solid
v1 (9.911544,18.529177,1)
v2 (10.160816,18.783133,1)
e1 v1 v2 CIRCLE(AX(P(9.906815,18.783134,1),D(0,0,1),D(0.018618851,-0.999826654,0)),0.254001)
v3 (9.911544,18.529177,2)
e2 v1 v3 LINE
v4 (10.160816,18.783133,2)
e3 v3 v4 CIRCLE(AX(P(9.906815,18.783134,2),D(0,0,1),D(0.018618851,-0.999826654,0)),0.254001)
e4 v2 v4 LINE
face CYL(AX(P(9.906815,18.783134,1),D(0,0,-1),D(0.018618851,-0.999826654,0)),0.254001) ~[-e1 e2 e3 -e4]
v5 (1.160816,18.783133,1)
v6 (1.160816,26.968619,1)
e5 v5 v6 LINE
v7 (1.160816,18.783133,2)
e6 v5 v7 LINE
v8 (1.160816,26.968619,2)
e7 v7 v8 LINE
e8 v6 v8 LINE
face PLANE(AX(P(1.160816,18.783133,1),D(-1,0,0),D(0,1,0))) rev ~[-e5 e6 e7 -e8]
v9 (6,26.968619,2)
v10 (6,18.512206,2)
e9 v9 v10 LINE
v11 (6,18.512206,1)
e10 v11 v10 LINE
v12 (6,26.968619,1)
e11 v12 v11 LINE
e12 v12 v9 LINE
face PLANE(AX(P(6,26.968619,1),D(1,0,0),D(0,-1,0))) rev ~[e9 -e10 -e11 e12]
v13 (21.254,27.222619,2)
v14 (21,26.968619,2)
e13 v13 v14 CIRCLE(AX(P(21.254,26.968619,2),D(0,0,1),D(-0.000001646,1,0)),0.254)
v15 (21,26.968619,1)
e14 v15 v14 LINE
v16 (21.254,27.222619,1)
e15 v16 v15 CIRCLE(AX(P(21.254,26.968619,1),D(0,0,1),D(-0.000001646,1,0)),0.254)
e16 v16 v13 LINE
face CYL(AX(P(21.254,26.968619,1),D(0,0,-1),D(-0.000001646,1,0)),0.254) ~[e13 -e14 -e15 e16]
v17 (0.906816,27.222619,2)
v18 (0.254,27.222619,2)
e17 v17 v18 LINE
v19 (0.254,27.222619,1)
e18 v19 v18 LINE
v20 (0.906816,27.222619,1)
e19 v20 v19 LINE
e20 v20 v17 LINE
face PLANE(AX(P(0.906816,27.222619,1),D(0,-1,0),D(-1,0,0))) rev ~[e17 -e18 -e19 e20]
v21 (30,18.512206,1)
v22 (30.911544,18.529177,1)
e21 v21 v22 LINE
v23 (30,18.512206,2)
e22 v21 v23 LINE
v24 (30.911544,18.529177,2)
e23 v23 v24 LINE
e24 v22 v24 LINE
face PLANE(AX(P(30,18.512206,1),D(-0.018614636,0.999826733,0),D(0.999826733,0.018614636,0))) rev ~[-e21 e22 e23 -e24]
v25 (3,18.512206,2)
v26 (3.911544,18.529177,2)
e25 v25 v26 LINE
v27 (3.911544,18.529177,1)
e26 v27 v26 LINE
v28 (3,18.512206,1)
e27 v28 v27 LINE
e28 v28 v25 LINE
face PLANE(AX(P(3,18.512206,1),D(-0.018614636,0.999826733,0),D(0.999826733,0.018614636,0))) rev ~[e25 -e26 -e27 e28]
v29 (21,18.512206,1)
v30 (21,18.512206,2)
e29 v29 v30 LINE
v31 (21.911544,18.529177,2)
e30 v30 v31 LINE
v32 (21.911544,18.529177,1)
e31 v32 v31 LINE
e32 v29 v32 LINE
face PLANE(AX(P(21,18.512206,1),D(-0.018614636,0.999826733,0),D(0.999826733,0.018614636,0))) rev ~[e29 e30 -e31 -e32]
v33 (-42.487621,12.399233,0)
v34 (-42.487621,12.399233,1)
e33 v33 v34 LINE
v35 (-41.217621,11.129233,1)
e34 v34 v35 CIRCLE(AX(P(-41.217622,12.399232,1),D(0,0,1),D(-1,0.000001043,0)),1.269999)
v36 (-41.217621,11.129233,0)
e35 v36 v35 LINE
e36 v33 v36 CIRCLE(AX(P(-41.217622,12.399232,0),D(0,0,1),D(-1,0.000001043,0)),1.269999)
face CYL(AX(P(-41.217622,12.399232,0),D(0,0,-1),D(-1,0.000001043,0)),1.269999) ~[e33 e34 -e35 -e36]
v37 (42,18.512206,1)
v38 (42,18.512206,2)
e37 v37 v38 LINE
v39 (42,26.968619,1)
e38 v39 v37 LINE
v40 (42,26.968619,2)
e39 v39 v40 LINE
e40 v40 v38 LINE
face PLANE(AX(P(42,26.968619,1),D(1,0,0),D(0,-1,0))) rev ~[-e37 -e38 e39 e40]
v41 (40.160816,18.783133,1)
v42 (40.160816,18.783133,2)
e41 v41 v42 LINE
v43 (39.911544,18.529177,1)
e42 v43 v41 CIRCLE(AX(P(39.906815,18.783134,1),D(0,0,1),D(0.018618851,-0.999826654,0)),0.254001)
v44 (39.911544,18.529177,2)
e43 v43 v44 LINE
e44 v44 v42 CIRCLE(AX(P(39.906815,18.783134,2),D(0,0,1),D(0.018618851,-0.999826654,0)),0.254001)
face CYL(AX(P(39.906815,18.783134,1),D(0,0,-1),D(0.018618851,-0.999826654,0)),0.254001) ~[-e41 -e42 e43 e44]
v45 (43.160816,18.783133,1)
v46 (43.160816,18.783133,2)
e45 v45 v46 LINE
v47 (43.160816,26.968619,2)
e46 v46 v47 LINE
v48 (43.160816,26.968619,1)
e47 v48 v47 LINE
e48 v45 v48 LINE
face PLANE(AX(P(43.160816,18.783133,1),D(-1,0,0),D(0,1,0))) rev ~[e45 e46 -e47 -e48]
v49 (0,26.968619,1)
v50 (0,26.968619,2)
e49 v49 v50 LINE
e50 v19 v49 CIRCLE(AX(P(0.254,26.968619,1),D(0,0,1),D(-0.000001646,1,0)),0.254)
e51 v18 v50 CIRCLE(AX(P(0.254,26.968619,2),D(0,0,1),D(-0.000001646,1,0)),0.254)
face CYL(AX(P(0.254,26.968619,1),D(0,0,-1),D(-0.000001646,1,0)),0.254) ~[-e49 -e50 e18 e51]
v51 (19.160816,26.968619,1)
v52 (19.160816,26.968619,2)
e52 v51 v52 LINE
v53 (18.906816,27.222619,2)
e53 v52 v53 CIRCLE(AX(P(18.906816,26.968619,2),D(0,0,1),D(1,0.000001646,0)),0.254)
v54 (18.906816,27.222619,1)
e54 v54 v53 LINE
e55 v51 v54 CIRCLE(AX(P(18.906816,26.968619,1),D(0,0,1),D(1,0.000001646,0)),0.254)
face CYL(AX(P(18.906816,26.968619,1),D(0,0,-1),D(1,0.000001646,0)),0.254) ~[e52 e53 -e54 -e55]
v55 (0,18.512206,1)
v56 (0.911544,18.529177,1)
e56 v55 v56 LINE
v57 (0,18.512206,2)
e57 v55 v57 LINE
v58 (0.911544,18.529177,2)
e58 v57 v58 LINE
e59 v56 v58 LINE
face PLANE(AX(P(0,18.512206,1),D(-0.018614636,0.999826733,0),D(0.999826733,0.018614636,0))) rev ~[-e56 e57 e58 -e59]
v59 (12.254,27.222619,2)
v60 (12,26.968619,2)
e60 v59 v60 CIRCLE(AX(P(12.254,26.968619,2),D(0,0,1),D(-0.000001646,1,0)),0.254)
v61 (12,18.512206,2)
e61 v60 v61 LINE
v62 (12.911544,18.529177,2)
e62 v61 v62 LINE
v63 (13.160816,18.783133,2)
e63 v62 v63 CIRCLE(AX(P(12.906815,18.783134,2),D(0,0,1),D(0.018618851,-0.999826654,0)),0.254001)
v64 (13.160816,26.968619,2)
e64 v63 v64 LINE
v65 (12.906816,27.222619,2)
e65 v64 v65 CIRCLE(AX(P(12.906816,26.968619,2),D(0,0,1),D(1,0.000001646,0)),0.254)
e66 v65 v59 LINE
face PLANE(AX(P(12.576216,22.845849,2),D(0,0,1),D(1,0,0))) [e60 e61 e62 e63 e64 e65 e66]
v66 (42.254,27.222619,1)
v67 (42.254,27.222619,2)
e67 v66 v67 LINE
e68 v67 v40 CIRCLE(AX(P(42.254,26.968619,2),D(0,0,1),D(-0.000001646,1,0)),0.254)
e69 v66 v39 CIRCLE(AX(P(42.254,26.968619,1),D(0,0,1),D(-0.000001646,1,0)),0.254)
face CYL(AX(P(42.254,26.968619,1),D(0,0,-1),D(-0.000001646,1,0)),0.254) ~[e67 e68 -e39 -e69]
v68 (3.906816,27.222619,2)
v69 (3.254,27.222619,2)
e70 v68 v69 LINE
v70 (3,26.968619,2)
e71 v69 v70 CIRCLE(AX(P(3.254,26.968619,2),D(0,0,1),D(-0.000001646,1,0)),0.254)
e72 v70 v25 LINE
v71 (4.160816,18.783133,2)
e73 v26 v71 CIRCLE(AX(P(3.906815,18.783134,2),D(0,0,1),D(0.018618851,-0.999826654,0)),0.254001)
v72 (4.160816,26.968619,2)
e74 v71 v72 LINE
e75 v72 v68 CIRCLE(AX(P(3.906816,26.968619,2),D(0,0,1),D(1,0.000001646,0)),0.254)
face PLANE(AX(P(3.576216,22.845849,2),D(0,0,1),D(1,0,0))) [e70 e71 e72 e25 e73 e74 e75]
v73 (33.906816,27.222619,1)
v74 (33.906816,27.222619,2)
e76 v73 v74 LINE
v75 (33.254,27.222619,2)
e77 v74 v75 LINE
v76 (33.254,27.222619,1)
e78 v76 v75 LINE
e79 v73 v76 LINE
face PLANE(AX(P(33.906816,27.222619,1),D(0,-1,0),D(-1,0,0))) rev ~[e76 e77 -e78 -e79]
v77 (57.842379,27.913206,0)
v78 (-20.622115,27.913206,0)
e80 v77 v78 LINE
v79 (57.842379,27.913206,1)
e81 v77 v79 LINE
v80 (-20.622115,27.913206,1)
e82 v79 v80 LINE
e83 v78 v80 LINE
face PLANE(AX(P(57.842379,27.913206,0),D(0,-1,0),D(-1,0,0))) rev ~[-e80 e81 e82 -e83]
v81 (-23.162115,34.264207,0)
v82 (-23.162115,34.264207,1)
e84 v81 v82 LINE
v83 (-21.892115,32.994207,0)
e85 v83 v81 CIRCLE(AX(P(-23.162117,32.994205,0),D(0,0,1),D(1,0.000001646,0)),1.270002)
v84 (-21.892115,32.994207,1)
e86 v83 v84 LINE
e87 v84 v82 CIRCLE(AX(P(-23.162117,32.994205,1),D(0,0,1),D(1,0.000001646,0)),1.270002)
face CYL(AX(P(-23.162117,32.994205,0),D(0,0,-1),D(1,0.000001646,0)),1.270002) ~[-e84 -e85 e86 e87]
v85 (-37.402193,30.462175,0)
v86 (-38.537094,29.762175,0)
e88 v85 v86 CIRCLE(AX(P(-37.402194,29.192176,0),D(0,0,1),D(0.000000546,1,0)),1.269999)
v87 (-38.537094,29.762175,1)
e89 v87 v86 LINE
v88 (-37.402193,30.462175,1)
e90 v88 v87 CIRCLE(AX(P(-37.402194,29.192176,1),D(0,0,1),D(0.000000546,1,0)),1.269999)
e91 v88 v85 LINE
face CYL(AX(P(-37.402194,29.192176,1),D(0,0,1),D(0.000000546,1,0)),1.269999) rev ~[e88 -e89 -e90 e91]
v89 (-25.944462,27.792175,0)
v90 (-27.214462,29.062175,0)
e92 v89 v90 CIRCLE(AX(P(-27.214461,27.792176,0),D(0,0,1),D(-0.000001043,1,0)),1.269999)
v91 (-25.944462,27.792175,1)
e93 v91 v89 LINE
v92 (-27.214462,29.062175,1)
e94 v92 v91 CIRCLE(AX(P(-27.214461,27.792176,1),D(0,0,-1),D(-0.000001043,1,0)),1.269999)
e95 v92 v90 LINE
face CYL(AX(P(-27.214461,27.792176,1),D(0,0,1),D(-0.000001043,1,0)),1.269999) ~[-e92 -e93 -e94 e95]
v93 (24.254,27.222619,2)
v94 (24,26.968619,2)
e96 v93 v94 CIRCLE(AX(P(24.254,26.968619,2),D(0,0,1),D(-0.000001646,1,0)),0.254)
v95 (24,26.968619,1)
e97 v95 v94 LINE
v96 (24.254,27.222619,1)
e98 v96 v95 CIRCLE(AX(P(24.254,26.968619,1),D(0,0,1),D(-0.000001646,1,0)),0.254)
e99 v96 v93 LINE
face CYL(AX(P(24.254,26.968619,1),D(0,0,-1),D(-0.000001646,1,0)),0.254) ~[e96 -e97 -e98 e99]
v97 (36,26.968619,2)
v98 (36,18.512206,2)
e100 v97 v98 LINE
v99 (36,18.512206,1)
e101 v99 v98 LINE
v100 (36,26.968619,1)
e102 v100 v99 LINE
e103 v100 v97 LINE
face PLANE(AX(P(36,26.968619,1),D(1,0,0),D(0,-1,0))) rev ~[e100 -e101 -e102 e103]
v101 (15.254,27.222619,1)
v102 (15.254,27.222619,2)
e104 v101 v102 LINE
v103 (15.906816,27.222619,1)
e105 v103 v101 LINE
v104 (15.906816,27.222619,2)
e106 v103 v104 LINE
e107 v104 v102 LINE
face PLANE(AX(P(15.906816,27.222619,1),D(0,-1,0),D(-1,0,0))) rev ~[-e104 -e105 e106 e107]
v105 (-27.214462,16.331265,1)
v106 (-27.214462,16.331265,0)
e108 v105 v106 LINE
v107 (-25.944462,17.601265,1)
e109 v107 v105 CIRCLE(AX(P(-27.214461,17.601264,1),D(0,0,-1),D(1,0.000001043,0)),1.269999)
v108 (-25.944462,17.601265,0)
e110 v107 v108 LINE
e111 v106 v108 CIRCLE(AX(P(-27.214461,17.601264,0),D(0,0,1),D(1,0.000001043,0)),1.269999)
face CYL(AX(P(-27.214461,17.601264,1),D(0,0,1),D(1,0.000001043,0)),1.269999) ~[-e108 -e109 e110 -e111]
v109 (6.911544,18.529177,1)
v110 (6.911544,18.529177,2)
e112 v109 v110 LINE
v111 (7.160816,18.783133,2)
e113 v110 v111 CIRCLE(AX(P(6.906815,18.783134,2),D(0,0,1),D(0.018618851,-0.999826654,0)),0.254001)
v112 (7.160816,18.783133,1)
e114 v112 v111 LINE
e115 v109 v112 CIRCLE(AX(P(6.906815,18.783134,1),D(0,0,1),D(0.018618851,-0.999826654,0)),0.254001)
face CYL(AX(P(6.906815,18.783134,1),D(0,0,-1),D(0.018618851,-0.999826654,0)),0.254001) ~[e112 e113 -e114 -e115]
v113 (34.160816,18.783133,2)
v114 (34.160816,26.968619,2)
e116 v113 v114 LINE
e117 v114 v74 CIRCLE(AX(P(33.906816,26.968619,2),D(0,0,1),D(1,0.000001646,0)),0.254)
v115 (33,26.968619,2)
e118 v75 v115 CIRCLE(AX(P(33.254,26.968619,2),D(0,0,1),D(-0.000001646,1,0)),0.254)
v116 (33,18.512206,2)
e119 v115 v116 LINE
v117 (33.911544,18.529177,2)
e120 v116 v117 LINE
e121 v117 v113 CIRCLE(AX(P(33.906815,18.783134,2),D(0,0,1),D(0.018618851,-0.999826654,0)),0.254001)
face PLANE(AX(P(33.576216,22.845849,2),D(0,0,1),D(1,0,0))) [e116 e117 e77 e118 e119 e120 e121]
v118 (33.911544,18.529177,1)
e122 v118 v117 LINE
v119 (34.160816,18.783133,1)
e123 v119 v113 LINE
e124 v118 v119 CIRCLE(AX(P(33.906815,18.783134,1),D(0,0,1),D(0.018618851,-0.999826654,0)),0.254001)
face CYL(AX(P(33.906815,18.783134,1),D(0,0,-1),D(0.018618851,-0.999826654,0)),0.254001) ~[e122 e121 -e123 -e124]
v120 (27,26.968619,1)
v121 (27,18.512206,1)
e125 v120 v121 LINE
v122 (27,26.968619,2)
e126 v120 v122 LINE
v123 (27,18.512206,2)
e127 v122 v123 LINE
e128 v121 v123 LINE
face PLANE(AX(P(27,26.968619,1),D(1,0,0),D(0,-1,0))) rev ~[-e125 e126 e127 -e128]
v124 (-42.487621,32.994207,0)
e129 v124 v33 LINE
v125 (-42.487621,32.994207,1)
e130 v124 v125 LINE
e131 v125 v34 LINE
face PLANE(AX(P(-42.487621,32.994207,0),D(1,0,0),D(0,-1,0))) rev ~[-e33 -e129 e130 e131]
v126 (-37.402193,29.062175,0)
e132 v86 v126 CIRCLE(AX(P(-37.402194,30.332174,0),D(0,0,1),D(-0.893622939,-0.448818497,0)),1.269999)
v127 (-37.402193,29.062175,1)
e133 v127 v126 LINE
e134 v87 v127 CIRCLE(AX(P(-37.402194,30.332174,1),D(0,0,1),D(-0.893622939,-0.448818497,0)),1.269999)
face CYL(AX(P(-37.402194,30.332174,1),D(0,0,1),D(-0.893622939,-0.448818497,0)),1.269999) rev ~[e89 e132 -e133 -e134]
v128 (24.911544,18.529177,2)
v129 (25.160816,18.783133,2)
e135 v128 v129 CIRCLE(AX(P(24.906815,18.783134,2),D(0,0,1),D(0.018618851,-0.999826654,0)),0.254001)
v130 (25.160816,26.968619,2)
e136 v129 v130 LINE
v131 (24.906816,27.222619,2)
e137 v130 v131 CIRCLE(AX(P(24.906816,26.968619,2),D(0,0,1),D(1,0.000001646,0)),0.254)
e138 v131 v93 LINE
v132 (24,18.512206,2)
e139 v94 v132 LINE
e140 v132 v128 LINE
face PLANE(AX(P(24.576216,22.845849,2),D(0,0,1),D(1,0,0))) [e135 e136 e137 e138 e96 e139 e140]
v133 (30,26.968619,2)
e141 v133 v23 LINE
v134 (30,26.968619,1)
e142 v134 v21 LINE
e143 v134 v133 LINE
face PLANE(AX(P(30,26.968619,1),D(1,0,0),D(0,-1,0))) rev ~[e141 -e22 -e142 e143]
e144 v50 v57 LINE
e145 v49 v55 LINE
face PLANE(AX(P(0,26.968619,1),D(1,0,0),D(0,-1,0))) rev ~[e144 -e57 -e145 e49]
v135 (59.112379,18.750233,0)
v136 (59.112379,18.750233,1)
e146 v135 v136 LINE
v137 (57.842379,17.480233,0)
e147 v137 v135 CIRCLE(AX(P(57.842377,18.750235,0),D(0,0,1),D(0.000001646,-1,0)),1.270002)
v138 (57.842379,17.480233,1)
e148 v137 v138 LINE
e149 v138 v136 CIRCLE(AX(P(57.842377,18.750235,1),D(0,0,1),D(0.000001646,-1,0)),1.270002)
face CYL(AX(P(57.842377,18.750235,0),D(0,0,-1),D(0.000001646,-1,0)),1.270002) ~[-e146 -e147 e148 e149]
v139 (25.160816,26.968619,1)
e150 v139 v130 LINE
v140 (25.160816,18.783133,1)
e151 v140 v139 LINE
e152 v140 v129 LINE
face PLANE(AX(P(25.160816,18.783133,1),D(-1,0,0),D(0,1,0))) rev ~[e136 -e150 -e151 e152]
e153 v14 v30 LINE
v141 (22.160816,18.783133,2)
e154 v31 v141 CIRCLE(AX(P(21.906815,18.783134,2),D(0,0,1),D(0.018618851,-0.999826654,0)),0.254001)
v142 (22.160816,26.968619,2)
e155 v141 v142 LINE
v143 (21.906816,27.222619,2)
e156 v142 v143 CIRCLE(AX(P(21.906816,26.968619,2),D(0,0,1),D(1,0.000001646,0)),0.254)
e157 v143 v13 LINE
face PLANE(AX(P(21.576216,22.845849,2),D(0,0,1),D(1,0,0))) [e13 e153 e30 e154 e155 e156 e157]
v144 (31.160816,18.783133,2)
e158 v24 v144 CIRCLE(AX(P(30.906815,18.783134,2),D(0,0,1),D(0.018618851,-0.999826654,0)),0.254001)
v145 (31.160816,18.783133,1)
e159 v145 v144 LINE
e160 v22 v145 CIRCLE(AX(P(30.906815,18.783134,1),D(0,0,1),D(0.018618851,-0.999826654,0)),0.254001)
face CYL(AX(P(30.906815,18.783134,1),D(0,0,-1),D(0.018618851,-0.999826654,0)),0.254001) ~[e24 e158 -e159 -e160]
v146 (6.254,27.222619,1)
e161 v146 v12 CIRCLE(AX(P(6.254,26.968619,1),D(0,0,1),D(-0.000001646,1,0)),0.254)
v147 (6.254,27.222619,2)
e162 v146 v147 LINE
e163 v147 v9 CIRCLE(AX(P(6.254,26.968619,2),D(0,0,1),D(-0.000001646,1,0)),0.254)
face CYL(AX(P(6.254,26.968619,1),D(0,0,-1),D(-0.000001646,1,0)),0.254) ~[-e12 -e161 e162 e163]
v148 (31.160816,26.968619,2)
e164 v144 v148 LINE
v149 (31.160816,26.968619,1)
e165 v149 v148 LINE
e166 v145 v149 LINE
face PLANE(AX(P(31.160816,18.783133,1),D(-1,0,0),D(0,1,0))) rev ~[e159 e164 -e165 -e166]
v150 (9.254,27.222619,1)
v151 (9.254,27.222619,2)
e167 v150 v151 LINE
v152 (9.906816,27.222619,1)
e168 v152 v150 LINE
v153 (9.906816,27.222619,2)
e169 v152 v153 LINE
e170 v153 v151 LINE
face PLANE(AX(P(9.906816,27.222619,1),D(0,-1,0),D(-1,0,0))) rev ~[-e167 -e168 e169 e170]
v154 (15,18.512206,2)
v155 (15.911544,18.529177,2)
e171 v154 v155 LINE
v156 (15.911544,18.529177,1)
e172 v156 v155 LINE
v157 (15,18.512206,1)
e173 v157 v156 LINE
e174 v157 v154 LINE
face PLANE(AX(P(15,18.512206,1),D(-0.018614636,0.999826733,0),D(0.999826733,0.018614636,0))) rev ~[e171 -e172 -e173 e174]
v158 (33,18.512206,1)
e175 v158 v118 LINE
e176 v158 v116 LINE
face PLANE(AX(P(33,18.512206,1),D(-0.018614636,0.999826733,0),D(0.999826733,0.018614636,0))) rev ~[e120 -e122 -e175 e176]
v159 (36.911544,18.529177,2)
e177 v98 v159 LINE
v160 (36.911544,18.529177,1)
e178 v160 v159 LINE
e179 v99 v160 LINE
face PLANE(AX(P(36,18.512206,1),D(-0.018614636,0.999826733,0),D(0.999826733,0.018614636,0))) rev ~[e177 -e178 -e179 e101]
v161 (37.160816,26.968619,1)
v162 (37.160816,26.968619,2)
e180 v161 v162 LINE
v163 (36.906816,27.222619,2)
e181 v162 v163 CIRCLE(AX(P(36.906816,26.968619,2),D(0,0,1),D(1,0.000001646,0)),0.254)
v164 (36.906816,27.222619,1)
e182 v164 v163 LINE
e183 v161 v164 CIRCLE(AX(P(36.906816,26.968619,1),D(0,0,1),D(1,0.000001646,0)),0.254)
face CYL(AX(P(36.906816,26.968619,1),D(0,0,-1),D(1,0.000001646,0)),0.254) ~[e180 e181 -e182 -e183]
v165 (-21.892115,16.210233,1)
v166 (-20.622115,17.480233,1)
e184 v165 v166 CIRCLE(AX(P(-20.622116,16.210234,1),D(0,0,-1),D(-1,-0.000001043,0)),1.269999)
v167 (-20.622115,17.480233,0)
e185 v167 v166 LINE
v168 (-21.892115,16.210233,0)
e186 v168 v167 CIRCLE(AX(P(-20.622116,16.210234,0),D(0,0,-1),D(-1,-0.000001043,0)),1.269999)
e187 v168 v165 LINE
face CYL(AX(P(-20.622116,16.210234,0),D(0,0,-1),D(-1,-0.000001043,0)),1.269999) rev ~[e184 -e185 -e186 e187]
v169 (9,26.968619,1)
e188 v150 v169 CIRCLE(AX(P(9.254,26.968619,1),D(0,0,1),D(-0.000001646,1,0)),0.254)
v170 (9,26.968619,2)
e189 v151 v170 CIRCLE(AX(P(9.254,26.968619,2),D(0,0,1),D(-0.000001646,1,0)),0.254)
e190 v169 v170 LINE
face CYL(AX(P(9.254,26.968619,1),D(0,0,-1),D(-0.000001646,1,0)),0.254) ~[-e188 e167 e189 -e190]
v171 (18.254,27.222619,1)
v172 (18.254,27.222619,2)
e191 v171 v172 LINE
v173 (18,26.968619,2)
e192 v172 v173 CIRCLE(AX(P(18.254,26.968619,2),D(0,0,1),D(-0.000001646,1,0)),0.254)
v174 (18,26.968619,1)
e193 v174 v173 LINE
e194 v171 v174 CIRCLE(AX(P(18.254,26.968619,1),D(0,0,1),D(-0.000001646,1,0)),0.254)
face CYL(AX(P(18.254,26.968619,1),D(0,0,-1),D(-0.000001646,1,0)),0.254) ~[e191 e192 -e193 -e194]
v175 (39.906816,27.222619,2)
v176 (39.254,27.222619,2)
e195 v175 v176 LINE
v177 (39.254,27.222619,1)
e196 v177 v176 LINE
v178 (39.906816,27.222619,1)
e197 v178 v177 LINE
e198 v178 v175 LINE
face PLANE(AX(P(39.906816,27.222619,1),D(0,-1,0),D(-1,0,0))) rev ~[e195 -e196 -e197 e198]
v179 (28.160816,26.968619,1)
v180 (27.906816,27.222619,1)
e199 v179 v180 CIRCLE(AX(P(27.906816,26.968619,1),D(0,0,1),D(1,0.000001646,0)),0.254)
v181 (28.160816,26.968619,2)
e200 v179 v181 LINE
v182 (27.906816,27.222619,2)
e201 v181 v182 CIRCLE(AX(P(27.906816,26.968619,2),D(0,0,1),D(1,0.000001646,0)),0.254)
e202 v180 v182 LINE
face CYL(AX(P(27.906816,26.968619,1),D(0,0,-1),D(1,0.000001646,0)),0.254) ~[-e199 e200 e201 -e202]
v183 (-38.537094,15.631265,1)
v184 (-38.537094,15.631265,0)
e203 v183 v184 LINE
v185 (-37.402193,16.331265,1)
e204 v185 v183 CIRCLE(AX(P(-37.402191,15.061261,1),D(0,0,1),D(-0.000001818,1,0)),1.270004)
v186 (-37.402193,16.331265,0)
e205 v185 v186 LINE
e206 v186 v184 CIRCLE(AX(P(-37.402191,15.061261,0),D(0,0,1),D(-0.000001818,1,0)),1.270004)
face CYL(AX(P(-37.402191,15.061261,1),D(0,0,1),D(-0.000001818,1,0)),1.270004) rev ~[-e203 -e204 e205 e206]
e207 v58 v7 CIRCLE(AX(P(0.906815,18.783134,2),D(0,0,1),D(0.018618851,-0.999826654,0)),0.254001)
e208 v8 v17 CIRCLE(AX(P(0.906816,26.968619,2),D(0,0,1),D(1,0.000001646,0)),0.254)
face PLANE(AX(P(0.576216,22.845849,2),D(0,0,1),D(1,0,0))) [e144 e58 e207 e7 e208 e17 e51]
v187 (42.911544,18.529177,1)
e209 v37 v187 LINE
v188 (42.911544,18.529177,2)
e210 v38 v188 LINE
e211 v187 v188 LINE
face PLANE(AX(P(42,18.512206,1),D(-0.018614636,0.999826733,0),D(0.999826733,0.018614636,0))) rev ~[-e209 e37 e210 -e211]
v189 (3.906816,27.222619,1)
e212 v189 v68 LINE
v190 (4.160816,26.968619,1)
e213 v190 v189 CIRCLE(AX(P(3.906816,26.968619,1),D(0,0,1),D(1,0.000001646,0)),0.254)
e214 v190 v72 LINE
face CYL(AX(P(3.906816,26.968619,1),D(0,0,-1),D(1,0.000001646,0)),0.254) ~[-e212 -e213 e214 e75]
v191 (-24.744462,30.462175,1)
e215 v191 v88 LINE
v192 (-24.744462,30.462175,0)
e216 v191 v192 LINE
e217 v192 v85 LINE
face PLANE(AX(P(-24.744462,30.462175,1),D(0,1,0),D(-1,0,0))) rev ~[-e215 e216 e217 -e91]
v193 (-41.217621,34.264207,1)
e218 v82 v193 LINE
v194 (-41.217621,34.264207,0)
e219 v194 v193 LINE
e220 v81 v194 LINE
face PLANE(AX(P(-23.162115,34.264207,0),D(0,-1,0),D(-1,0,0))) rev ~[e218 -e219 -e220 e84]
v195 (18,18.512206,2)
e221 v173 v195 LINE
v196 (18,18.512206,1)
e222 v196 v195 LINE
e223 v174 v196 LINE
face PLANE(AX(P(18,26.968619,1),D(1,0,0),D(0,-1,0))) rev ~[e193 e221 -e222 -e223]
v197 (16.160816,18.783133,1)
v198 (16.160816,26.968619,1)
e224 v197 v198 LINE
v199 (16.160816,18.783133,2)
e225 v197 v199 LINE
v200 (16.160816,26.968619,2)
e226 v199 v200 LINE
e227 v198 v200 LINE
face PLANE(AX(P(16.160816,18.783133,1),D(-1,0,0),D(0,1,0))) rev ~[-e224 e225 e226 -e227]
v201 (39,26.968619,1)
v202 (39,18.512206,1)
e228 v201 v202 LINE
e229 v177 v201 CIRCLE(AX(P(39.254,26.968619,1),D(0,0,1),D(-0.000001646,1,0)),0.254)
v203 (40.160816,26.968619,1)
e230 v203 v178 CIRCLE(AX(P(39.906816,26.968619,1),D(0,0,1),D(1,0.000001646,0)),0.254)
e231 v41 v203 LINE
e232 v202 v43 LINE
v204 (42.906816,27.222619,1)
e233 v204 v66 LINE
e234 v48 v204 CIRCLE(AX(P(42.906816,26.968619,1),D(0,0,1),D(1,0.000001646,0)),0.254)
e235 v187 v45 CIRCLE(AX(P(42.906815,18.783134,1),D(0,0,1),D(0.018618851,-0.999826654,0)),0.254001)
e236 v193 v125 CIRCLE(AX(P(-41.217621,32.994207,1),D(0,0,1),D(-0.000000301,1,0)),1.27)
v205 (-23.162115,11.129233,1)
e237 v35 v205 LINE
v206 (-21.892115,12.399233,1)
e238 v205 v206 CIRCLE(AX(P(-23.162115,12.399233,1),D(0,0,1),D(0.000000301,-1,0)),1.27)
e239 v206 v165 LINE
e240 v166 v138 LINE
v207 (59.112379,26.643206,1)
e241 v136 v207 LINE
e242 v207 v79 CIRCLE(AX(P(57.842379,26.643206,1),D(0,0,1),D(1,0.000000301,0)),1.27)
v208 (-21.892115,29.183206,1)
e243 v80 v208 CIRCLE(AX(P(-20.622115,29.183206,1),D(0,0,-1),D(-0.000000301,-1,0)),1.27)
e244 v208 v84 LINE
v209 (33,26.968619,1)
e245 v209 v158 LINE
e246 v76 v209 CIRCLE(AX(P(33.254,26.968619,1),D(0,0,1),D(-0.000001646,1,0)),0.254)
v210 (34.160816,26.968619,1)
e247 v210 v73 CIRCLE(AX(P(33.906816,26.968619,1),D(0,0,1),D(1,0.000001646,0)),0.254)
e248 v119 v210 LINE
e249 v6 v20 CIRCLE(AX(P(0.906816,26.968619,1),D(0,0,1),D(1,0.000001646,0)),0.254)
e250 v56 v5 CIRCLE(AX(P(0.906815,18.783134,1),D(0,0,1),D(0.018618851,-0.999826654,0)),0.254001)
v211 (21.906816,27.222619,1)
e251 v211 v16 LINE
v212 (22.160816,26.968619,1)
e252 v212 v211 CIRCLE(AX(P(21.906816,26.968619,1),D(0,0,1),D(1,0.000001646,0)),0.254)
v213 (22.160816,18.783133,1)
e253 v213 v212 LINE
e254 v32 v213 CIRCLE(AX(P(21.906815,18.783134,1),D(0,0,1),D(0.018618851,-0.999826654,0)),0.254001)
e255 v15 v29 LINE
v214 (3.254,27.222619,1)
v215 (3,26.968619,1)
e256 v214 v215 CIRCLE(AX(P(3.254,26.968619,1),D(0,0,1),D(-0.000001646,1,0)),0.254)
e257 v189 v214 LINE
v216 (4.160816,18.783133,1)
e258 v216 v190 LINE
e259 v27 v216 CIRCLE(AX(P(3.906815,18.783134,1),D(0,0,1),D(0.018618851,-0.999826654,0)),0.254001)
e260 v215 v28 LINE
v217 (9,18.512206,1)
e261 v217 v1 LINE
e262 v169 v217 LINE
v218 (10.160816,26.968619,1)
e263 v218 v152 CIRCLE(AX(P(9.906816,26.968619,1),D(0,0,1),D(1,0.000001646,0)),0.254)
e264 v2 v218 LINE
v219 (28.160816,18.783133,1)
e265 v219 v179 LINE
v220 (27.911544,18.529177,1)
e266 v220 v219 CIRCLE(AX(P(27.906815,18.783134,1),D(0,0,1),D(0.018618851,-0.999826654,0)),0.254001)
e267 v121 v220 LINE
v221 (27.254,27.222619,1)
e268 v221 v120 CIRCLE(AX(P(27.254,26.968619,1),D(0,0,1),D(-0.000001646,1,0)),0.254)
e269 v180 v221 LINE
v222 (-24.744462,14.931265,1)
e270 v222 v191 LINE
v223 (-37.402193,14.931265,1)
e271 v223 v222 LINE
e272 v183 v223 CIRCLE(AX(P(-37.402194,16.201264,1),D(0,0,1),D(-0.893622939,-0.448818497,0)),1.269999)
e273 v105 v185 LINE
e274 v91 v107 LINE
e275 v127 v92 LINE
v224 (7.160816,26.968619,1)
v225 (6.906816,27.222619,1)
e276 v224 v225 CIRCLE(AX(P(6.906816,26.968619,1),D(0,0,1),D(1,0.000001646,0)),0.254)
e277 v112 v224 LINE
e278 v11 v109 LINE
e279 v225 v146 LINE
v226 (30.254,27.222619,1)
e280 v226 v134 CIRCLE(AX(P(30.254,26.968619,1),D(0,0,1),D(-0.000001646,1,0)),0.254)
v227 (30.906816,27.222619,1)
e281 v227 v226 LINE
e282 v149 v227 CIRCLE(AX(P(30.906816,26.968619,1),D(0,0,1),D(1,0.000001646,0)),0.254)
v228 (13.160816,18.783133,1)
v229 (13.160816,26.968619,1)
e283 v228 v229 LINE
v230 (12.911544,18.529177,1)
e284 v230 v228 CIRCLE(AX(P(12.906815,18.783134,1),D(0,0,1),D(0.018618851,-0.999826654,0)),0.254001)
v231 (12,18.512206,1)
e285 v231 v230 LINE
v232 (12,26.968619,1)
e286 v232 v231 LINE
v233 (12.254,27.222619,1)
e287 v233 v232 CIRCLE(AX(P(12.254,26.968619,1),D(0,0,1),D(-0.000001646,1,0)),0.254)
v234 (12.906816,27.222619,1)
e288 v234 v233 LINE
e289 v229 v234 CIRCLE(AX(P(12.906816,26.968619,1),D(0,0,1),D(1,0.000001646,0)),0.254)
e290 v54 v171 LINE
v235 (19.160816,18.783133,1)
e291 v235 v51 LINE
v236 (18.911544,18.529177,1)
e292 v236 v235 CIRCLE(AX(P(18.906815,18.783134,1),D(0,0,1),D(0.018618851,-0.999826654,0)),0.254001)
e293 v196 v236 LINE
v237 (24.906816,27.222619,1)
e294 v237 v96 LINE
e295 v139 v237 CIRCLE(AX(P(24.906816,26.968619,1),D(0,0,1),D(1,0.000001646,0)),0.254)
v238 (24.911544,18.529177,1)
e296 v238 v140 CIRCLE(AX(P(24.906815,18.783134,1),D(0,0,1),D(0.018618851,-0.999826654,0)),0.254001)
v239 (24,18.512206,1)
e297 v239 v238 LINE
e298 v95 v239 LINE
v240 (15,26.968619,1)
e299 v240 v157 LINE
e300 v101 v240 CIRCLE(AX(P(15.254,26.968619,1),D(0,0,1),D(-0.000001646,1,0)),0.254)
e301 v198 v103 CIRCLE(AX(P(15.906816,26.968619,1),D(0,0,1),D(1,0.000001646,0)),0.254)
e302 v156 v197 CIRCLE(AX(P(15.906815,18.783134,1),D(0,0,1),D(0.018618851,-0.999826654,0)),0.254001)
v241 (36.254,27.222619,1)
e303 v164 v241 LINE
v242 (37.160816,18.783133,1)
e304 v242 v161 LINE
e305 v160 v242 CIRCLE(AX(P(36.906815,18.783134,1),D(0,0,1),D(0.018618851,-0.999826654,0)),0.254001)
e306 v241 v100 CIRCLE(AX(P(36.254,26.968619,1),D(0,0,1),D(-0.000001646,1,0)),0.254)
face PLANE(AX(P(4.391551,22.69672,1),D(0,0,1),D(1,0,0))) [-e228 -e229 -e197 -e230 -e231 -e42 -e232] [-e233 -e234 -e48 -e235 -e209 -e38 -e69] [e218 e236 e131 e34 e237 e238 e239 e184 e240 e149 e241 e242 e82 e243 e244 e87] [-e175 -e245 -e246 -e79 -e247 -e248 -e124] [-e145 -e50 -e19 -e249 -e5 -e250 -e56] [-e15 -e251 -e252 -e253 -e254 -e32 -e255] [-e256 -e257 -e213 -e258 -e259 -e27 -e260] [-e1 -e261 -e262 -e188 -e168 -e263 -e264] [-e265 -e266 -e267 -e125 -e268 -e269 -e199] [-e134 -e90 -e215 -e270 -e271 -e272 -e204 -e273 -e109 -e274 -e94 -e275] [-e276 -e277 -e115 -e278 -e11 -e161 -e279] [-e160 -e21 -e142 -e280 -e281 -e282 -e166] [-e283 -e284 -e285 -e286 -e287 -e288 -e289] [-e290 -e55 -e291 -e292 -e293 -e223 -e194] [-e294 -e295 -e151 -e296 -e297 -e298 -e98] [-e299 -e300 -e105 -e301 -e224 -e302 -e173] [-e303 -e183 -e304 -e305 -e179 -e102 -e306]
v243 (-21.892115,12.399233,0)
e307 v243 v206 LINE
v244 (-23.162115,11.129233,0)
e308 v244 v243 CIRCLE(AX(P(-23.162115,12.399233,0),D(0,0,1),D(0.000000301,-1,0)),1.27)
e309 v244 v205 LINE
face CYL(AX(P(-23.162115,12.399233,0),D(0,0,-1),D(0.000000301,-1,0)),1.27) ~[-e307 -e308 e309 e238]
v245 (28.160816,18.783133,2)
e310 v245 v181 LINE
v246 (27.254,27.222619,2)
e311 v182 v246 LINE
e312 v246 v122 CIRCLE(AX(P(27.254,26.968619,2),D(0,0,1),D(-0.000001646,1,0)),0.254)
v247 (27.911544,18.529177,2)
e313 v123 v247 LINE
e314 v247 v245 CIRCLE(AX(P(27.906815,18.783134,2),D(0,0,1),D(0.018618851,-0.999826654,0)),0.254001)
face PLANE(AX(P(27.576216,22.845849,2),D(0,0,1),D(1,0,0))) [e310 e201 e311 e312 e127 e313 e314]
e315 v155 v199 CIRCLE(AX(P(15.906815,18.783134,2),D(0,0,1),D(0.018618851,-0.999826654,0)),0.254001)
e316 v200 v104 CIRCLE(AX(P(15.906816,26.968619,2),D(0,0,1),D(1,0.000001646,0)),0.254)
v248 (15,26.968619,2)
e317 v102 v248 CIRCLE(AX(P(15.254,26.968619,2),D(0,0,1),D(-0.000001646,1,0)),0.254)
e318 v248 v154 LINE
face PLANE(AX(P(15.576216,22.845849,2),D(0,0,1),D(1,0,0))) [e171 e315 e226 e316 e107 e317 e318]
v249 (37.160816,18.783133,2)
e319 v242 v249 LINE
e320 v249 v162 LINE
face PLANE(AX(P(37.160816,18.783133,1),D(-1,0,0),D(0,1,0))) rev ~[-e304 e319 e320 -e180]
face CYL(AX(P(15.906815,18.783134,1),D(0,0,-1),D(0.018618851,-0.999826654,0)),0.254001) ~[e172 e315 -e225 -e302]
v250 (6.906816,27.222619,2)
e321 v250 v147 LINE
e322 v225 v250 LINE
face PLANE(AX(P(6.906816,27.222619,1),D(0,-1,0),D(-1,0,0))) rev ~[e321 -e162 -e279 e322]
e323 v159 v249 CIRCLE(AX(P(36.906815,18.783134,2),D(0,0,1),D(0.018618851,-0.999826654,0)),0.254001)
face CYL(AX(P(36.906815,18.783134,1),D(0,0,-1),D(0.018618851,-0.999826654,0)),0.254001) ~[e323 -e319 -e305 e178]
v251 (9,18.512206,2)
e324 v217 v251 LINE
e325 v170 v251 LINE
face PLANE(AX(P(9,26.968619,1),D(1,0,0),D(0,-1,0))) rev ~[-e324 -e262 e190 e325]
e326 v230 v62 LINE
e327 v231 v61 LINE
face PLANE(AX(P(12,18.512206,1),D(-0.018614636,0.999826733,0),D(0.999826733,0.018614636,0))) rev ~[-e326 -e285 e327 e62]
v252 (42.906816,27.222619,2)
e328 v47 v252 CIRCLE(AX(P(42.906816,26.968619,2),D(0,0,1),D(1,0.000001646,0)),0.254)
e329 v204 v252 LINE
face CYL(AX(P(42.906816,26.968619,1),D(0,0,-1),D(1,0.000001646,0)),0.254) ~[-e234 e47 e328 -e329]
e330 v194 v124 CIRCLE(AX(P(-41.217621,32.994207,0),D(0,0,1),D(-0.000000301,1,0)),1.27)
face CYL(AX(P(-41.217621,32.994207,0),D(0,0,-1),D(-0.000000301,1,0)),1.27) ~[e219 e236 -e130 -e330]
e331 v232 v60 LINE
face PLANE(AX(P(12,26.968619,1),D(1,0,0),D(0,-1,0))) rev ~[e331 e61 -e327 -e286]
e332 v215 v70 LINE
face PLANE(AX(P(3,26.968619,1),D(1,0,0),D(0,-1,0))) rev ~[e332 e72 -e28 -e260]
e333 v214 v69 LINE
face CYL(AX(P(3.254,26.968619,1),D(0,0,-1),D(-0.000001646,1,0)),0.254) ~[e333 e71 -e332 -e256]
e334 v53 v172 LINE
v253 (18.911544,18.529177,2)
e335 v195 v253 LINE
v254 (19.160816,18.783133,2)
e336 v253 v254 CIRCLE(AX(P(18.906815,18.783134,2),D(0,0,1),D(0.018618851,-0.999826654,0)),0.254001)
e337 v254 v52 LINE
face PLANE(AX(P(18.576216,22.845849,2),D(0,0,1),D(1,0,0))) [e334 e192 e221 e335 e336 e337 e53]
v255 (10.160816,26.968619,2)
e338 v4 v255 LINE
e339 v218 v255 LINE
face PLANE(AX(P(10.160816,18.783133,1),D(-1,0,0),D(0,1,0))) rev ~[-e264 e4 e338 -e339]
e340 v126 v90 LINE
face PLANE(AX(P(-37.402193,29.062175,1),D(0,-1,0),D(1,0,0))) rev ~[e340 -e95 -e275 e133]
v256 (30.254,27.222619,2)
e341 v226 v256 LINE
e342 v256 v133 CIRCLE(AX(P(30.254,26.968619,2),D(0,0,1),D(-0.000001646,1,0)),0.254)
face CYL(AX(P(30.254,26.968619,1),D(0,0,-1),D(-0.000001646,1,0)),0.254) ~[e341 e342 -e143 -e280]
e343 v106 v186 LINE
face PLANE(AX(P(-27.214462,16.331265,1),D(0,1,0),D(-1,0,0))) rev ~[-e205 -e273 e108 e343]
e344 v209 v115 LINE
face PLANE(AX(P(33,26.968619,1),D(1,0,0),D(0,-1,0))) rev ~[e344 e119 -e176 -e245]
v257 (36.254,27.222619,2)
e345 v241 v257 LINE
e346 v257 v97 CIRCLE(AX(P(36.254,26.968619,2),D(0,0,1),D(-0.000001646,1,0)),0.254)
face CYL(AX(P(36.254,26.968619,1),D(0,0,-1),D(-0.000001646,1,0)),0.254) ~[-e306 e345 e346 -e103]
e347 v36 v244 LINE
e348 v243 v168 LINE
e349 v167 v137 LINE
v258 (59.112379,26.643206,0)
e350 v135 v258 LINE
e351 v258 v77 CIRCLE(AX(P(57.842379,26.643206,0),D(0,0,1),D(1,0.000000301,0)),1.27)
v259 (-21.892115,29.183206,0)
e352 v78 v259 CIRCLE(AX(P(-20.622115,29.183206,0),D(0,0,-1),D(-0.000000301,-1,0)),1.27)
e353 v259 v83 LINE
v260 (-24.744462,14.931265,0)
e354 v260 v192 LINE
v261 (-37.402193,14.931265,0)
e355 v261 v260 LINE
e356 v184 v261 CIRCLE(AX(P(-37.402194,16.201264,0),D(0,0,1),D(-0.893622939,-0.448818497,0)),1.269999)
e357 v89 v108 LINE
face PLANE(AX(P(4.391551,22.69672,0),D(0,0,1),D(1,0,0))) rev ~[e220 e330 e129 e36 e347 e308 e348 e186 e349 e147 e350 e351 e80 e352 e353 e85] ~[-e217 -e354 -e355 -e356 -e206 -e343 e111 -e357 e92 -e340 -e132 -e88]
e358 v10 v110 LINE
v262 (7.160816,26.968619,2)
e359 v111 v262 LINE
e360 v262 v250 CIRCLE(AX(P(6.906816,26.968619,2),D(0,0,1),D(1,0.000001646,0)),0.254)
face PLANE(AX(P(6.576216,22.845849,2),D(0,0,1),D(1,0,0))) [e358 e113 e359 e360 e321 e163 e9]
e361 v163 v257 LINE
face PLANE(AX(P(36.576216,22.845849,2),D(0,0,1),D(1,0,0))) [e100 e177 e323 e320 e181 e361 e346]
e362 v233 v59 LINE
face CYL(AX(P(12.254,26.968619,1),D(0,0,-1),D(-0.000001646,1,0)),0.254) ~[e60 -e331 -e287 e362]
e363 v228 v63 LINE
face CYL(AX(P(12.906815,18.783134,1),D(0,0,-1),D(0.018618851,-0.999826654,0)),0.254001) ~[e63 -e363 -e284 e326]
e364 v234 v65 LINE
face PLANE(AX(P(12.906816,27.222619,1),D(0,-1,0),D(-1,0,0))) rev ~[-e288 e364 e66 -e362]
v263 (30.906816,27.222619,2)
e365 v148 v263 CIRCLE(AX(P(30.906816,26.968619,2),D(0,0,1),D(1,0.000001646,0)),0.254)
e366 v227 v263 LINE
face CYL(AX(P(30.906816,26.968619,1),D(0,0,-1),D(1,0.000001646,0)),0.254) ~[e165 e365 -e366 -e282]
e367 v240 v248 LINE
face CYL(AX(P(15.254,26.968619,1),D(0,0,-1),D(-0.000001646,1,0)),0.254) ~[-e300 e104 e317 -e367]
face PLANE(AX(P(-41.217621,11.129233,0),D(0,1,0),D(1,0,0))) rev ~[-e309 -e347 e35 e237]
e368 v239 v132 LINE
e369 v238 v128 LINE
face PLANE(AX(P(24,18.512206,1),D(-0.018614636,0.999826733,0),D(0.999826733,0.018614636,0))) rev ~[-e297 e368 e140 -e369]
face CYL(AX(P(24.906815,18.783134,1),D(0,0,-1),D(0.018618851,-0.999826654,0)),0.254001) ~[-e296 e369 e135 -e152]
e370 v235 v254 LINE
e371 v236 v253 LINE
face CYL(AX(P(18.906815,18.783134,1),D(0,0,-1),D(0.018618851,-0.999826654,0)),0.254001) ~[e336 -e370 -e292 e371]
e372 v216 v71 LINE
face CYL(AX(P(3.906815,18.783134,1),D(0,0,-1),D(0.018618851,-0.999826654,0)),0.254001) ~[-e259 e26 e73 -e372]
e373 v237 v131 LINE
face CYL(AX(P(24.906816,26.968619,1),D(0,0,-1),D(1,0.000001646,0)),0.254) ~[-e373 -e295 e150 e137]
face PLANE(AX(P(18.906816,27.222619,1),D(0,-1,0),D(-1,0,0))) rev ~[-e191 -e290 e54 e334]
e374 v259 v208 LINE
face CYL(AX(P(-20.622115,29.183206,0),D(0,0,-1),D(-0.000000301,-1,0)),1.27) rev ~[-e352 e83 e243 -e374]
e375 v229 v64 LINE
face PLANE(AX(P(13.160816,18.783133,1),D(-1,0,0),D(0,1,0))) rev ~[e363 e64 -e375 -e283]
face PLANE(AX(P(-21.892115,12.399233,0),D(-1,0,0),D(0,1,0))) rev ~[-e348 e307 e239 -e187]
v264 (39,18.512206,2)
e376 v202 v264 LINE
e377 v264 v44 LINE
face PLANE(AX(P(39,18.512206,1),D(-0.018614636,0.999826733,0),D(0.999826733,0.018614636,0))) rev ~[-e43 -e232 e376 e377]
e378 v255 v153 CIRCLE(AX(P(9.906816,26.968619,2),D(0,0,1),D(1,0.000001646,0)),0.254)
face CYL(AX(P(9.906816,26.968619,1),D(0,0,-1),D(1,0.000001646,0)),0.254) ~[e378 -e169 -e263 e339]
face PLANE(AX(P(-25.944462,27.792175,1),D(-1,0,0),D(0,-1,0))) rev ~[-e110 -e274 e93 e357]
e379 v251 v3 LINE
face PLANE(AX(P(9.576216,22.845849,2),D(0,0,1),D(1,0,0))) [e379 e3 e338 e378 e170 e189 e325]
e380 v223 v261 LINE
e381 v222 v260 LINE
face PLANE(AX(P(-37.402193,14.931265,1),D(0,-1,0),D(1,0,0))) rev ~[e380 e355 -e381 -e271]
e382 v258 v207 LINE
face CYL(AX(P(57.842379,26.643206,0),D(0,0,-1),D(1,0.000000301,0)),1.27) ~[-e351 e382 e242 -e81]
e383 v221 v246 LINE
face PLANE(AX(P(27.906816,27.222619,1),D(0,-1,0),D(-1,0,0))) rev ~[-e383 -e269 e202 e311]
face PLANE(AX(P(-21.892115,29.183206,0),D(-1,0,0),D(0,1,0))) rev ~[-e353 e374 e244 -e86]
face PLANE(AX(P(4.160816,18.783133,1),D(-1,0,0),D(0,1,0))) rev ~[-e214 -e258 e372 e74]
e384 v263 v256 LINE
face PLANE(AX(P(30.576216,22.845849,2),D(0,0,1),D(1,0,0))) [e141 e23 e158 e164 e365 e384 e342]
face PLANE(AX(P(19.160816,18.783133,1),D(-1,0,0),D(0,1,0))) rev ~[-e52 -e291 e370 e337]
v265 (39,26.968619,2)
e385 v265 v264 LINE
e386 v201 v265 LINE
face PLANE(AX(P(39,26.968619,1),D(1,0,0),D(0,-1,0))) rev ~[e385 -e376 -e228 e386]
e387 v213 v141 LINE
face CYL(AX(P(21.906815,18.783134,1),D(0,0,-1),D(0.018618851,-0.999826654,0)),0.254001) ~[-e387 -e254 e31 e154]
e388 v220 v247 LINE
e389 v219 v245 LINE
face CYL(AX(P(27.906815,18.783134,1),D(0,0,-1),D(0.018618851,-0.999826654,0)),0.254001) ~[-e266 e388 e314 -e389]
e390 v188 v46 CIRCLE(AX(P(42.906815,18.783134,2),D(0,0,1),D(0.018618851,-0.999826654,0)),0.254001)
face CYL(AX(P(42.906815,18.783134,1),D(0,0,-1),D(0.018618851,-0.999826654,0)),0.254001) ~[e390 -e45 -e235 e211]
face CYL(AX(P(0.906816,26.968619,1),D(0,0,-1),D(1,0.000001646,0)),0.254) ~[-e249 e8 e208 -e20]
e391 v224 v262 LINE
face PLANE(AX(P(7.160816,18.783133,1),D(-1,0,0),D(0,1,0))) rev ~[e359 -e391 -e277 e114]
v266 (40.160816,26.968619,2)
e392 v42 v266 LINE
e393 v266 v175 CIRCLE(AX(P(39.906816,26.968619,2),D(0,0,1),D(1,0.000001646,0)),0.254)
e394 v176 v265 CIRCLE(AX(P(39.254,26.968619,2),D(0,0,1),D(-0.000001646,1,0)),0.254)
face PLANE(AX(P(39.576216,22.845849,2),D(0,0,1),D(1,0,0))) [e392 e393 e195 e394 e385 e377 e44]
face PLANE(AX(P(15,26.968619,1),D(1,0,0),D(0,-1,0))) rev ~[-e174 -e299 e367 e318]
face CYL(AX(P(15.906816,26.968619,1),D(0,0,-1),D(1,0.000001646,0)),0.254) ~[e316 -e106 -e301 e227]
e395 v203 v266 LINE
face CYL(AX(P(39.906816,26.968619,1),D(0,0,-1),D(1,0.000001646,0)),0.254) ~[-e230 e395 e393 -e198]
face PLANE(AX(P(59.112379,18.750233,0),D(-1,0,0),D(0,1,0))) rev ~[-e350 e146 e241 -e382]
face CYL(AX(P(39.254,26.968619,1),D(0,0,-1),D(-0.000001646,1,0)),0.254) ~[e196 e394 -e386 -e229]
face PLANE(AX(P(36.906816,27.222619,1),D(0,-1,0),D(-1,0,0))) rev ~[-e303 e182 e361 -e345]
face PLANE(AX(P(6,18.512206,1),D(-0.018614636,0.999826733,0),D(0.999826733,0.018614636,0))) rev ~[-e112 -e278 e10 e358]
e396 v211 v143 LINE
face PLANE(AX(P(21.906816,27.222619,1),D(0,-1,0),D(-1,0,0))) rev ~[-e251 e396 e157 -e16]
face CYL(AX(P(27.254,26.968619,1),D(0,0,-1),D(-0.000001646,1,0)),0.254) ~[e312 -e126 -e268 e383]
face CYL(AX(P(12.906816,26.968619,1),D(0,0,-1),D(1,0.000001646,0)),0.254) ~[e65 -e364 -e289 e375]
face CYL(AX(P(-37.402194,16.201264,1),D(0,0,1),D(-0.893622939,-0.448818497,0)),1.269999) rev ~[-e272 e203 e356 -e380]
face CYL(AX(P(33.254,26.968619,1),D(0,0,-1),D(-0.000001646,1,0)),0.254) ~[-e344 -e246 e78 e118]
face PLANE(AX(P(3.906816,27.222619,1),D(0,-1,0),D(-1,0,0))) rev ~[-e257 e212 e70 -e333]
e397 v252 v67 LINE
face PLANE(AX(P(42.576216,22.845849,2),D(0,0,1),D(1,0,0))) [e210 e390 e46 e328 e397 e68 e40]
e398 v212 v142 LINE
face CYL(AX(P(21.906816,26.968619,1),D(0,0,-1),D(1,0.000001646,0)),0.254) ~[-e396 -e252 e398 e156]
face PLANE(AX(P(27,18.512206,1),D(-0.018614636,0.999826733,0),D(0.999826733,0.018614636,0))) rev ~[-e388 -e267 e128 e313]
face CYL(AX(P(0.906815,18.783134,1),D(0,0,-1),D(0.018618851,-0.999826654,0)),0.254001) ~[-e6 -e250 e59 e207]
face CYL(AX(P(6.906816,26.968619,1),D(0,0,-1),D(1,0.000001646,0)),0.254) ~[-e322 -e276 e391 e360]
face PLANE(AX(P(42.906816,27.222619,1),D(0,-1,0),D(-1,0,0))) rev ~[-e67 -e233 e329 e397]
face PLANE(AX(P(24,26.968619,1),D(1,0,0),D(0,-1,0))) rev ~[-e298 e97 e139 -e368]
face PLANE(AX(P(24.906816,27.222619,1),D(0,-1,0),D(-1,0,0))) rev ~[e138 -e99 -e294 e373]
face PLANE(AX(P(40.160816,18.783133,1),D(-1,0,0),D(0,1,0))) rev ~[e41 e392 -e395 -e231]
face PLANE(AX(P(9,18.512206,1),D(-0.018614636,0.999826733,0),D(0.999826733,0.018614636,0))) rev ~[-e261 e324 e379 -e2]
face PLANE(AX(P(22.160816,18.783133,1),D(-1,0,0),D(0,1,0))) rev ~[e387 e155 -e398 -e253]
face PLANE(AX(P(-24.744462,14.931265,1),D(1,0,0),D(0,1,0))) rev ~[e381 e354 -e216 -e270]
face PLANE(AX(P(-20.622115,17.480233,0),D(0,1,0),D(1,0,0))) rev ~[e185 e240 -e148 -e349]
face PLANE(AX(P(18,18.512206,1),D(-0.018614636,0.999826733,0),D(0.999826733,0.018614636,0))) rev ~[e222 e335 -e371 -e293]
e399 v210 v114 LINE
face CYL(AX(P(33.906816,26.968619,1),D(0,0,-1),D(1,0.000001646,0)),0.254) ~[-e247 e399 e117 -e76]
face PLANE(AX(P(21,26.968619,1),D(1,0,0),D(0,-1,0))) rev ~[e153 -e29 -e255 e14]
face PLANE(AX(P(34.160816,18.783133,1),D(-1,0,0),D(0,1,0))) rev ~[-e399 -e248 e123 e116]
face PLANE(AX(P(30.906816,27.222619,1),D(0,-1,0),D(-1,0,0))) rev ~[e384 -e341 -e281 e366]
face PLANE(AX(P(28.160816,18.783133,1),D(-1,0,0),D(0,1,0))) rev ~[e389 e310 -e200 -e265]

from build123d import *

# Parameters (mm, degrees)
F1_DEPTH = 1
F3_DEPTH = 25.4
F5_DEPTH = 1


with BuildPart() as f1:
    # F0 (on Top) → F1 (new body)
    with BuildSketch(Plane.XY):
        with BuildLine():
            Line((57.842379, 27.913206), (-20.622115, 27.913206))
            ThreePointArc((-20.622115, 27.913206), (-21.520141, 28.285181), (-21.892115, 29.183206))
            Line((-21.892115, 29.183206), (-21.892115, 32.994207))
            ThreePointArc((-21.892115, 32.994207), (-22.26409, 33.892232), (-23.162115, 34.264207))
            Line((-23.162115, 34.264207), (-41.217621, 34.264207))
            ThreePointArc((-41.217621, 34.264207), (-42.115647, 33.892232), (-42.487621, 32.994207))
            Line((-42.487621, 32.994207), (-42.487621, 12.399233))
            ThreePointArc((-42.487621, 12.399233), (-42.115647, 11.501207), (-41.217621, 11.129233))
            Line((-41.217621, 11.129233), (-23.162115, 11.129233))
            ThreePointArc((-23.162115, 11.129233), (-22.26409, 11.501207), (-21.892115, 12.399233))
            Line((-21.892115, 12.399233), (-21.892115, 16.210233))
            ThreePointArc((-21.892115, 16.210233), (-21.520141, 17.108259), (-20.622115, 17.480233))
            Line((-20.622115, 17.480233), (57.842379, 17.480233))
            ThreePointArc((57.842379, 17.480233), (58.740404, 17.852208), (59.112379, 18.750233))
            Line((59.112379, 18.750233), (59.112379, 26.643206))
            ThreePointArc((59.112379, 26.643206), (58.740404, 27.541232), (57.842379, 27.913206))
        make_face()
        with BuildLine():
            ThreePointArc((-39.443586, 15.963525), (-39.40935, 15.670629), (-39.308487, 15.393525))
            ThreePointArc((-39.308487, 15.393525), (-39.40935, 15.116421), (-39.443586, 14.823525))
            Line((-39.443586, 14.823525), (-39.443586, 15.963525))
        make_face(mode=Mode.SUBTRACT)
        with BuildLine():
            ThreePointArc((-39.308487, 29.999914), (-38.840294, 30.51084), (-38.173586, 30.699914))
            Line((-38.173586, 30.699914), (-25.515855, 30.699914))
            Line((-25.515855, 30.699914), (-25.515855, 14.693525))
            Line((-25.515855, 14.693525), (-38.173586, 14.693525))
            ThreePointArc((-38.173586, 14.693525), (-38.840294, 14.8826), (-39.308487, 15.393525))
            ThreePointArc((-39.308487, 15.393525), (-38.840294, 15.904451), (-38.173586, 16.093525))
            Line((-38.173586, 16.093525), (-27.985855, 16.093525))
            ThreePointArc((-27.985855, 16.093525), (-27.087829, 16.4655), (-26.715855, 17.363525))
            Line((-26.715855, 17.363525), (-26.715855, 28.029914))
            ThreePointArc((-26.715855, 28.029914), (-27.087829, 28.92794), (-27.985855, 29.299914))
            Line((-27.985855, 29.299914), (-38.173586, 29.299914))
            ThreePointArc((-38.173586, 29.299914), (-38.840294, 29.488989), (-39.308487, 29.999914))
        make_face(mode=Mode.SUBTRACT)
        with BuildLine():
            ThreePointArc((-39.443586, 30.569914), (-39.40935, 30.277019), (-39.308487, 29.999914))
            ThreePointArc((-39.308487, 29.999914), (-39.40935, 29.72281), (-39.443586, 29.429914))
            Line((-39.443586, 29.429914), (-39.443586, 30.569914))
        make_face(mode=Mode.SUBTRACT)
        with BuildLine():
            Line((-25.515855, 30.699914), (-38.173586, 30.699914))
            ThreePointArc((-38.173586, 30.699914), (-38.840294, 30.51084), (-39.308487, 29.999914))
            ThreePointArc((-39.308487, 29.999914), (-38.840294, 29.488989), (-38.173586, 29.299914))
            Line((-38.173586, 29.299914), (-27.985855, 29.299914))
            ThreePointArc((-27.985855, 29.299914), (-27.087829, 28.92794), (-26.715855, 28.029914))
            Line((-26.715855, 28.029914), (-26.715855, 17.363525))
            ThreePointArc((-26.715855, 17.363525), (-27.087829, 16.4655), (-27.985855, 16.093525))
            Line((-27.985855, 16.093525), (-38.173586, 16.093525))
            ThreePointArc((-38.173586, 16.093525), (-38.840294, 15.904451), (-39.308487, 15.393525))
            ThreePointArc((-39.308487, 15.393525), (-38.840294, 14.8826), (-38.173586, 14.693525))
            Line((-38.173586, 14.693525), (-25.515855, 14.693525))
            Line((-25.515855, 14.693525), (-25.515855, 30.699914))
        make_face()
        with BuildLine():
            ThreePointArc((-39.443586, 29.429914), (-39.40935, 29.72281), (-39.308487, 29.999914))
            ThreePointArc((-39.308487, 29.999914), (-39.40935, 30.277019), (-39.443586, 30.569914))
            Line((-39.443586, 30.569914), (-39.443586, 29.429914))
        make_face()
        with BuildLine():
            ThreePointArc((-39.443586, 14.823525), (-39.40935, 15.116421), (-39.308487, 15.393525))
            ThreePointArc((-39.308487, 15.393525), (-39.40935, 15.670629), (-39.443586, 15.963525))
            Line((-39.443586, 15.963525), (-39.443586, 14.823525))
        make_face()
    extrude(amount=F1_DEPTH)

    # F2 (on face) → F3 (cut)
    with BuildSketch(Plane.XY.offset(1)):
        with BuildLine():
            Line((-32.294963, 30.462175), (-37.402193, 30.462175))
            ThreePointArc((-37.402193, 30.462175), (-38.068901, 30.273101), (-38.537094, 29.762175))
            ThreePointArc((-38.537094, 29.762175), (-38.068901, 29.251249), (-37.402193, 29.062175))
            Line((-37.402193, 29.062175), (-27.214462, 29.062175))
            ThreePointArc((-27.214462, 29.062175), (-26.316436, 28.690201), (-25.944462, 27.792175))
            Line((-25.944462, 27.792175), (-25.944462, 17.601265))
            ThreePointArc((-25.944462, 17.601265), (-26.316436, 16.703239), (-27.214462, 16.331265))
            Line((-27.214462, 16.331265), (-37.402193, 16.331265))
            ThreePointArc((-37.402193, 16.331265), (-38.068901, 16.14219), (-38.537094, 15.631265))
            ThreePointArc((-38.537094, 15.631265), (-38.068901, 15.120339), (-37.402193, 14.931265))
            Line((-37.402193, 14.931265), (-32.189868, 14.931265))
            Line((-32.189868, 14.931265), (-24.744462, 14.931265))
            Line((-24.744462, 14.931265), (-24.744462, 30.462175))
            Line((-24.744462, 30.462175), (-32.294963, 30.462175))
        make_face()
    extrude(amount=-F3_DEPTH, mode=Mode.SUBTRACT)

    # F4 (on face) → F5 (join)
    with BuildSketch(Plane.XY.offset(1)):
        with BuildLine():
            Line((0.906816, 27.222619), (0.254, 27.222619))
            ThreePointArc((0.254, 27.222619), (0.074395, 27.148224), (0, 26.968619))
            Line((0, 26.968619), (0, 18.512206))
            Line((0, 18.512206), (0.911544, 18.529177))
            ThreePointArc((0.911544, 18.529177), (1.088085, 18.605208), (1.160816, 18.783133))
            Line((1.160816, 18.783133), (1.160816, 26.968619))
            ThreePointArc((1.160816, 26.968619), (1.086421, 27.148224), (0.906816, 27.222619))
        make_face()
        with BuildLine():
            Line((3.906816, 27.222619), (3.254, 27.222619))
            ThreePointArc((3.254, 27.222619), (3.074395, 27.148224), (3, 26.968619))
            Line((3, 26.968619), (3, 18.512206))
            Line((3, 18.512206), (3.911544, 18.529177))
            ThreePointArc((3.911544, 18.529177), (4.088085, 18.605208), (4.160816, 18.783133))
            Line((4.160816, 18.783133), (4.160816, 26.968619))
            ThreePointArc((4.160816, 26.968619), (4.086421, 27.148224), (3.906816, 27.222619))
        make_face()
        with BuildLine():
            Line((6.906816, 27.222619), (6.254, 27.222619))
            ThreePointArc((6.254, 27.222619), (6.074395, 27.148224), (6, 26.968619))
            Line((6, 26.968619), (6, 18.512206))
            Line((6, 18.512206), (6.911544, 18.529177))
            ThreePointArc((6.911544, 18.529177), (7.088085, 18.605208), (7.160816, 18.783133))
            Line((7.160816, 18.783133), (7.160816, 26.968619))
            ThreePointArc((7.160816, 26.968619), (7.086421, 27.148224), (6.906816, 27.222619))
        make_face()
        with BuildLine():
            Line((9.906816, 27.222619), (9.254, 27.222619))
            ThreePointArc((9.254, 27.222619), (9.074395, 27.148224), (9, 26.968619))
            Line((9, 26.968619), (9, 18.512206))
            Line((9, 18.512206), (9.911544, 18.529177))
            ThreePointArc((9.911544, 18.529177), (10.088085, 18.605208), (10.160816, 18.783133))
            Line((10.160816, 18.783133), (10.160816, 26.968619))
            ThreePointArc((10.160816, 26.968619), (10.086421, 27.148224), (9.906816, 27.222619))
        make_face()
        with BuildLine():
            Line((12.906816, 27.222619), (12.254, 27.222619))
            ThreePointArc((12.254, 27.222619), (12.074395, 27.148224), (12, 26.968619))
            Line((12, 26.968619), (12, 18.512206))
            Line((12, 18.512206), (12.911544, 18.529177))
            ThreePointArc((12.911544, 18.529177), (13.088085, 18.605208), (13.160816, 18.783133))
            Line((13.160816, 18.783133), (13.160816, 26.968619))
            ThreePointArc((13.160816, 26.968619), (13.086421, 27.148224), (12.906816, 27.222619))
        make_face()
        with BuildLine():
            Line((15.906816, 27.222619), (15.254, 27.222619))
            ThreePointArc((15.254, 27.222619), (15.074395, 27.148224), (15, 26.968619))
            Line((15, 26.968619), (15, 18.512206))
            Line((15, 18.512206), (15.911544, 18.529177))
            ThreePointArc((15.911544, 18.529177), (16.088085, 18.605208), (16.160816, 18.783133))
            Line((16.160816, 18.783133), (16.160816, 26.968619))
            ThreePointArc((16.160816, 26.968619), (16.086421, 27.148224), (15.906816, 27.222619))
        make_face()
        with BuildLine():
            Line((18.906816, 27.222619), (18.254, 27.222619))
            ThreePointArc((18.254, 27.222619), (18.074395, 27.148224), (18, 26.968619))
            Line((18, 26.968619), (18, 18.512206))
            Line((18, 18.512206), (18.911544, 18.529177))
            ThreePointArc((18.911544, 18.529177), (19.088085, 18.605208), (19.160816, 18.783133))
            Line((19.160816, 18.783133), (19.160816, 26.968619))
            ThreePointArc((19.160816, 26.968619), (19.086421, 27.148224), (18.906816, 27.222619))
        make_face()
        with BuildLine():
            Line((42.906816, 27.222619), (42.254, 27.222619))
            ThreePointArc((42.254, 27.222619), (42.074395, 27.148224), (42, 26.968619))
            Line((42, 26.968619), (42, 18.512206))
            Line((42, 18.512206), (42.911544, 18.529177))
            ThreePointArc((42.911544, 18.529177), (43.088085, 18.605208), (43.160816, 18.783133))
            Line((43.160816, 18.783133), (43.160816, 26.968619))
            ThreePointArc((43.160816, 26.968619), (43.086421, 27.148224), (42.906816, 27.222619))
        make_face()
        with BuildLine():
            Line((39.906816, 27.222619), (39.254, 27.222619))
            ThreePointArc((39.254, 27.222619), (39.074395, 27.148224), (39, 26.968619))
            Line((39, 26.968619), (39, 18.512206))
            Line((39, 18.512206), (39.911544, 18.529177))
            ThreePointArc((39.911544, 18.529177), (40.088085, 18.605208), (40.160816, 18.783133))
            Line((40.160816, 18.783133), (40.160816, 26.968619))
            ThreePointArc((40.160816, 26.968619), (40.086421, 27.148224), (39.906816, 27.222619))
        make_face()
        with BuildLine():
            Line((36.906816, 27.222619), (36.254, 27.222619))
            ThreePointArc((36.254, 27.222619), (36.074395, 27.148224), (36, 26.968619))
            Line((36, 26.968619), (36, 18.512206))
            Line((36, 18.512206), (36.911544, 18.529177))
            ThreePointArc((36.911544, 18.529177), (37.088085, 18.605208), (37.160816, 18.783133))
            Line((37.160816, 18.783133), (37.160816, 26.968619))
            ThreePointArc((37.160816, 26.968619), (37.086421, 27.148224), (36.906816, 27.222619))
        make_face()
        with BuildLine():
            Line((33.906816, 27.222619), (33.254, 27.222619))
            ThreePointArc((33.254, 27.222619), (33.074395, 27.148224), (33, 26.968619))
            Line((33, 26.968619), (33, 18.512206))
            Line((33, 18.512206), (33.911544, 18.529177))
            ThreePointArc((33.911544, 18.529177), (34.088085, 18.605208), (34.160816, 18.783133))
            Line((34.160816, 18.783133), (34.160816, 26.968619))
            ThreePointArc((34.160816, 26.968619), (34.086421, 27.148224), (33.906816, 27.222619))
        make_face()
        with BuildLine():
            Line((30.906816, 27.222619), (30.254, 27.222619))
            ThreePointArc((30.254, 27.222619), (30.074395, 27.148224), (30, 26.968619))
            Line((30, 26.968619), (30, 18.512206))
            Line((30, 18.512206), (30.911544, 18.529177))
            ThreePointArc((30.911544, 18.529177), (31.088085, 18.605208), (31.160816, 18.783133))
            Line((31.160816, 18.783133), (31.160816, 26.968619))
            ThreePointArc((31.160816, 26.968619), (31.086421, 27.148224), (30.906816, 27.222619))
        make_face()
        with BuildLine():
            Line((27.906816, 27.222619), (27.254, 27.222619))
            ThreePointArc((27.254, 27.222619), (27.074395, 27.148224), (27, 26.968619))
            Line((27, 26.968619), (27, 18.512206))
            Line((27, 18.512206), (27.911544, 18.529177))
            ThreePointArc((27.911544, 18.529177), (28.088085, 18.605208), (28.160816, 18.783133))
            Line((28.160816, 18.783133), (28.160816, 26.968619))
            ThreePointArc((28.160816, 26.968619), (28.086421, 27.148224), (27.906816, 27.222619))
        make_face()
        with BuildLine():
            Line((24.906816, 27.222619), (24.254, 27.222619))
            ThreePointArc((24.254, 27.222619), (24.074395, 27.148224), (24, 26.968619))
            Line((24, 26.968619), (24, 18.512206))
            Line((24, 18.512206), (24.911544, 18.529177))
            ThreePointArc((24.911544, 18.529177), (25.088085, 18.605208), (25.160816, 18.783133))
            Line((25.160816, 18.783133), (25.160816, 26.968619))
            ThreePointArc((25.160816, 26.968619), (25.086421, 27.148224), (24.906816, 27.222619))
        make_face()
        with BuildLine():
            Line((21.906816, 27.222619), (21.254, 27.222619))
            ThreePointArc((21.254, 27.222619), (21.074395, 27.148224), (21, 26.968619))
            Line((21, 26.968619), (21, 18.512206))
            Line((21, 18.512206), (21.911544, 18.529177))
            ThreePointArc((21.911544, 18.529177), (22.088085, 18.605208), (22.160816, 18.783133))
            Line((22.160816, 18.783133), (22.160816, 26.968619))
            ThreePointArc((22.160816, 26.968619), (22.086421, 27.148224), (21.906816, 27.222619))
        make_face()
    extrude(amount=F5_DEPTH)


solid = f1.part
